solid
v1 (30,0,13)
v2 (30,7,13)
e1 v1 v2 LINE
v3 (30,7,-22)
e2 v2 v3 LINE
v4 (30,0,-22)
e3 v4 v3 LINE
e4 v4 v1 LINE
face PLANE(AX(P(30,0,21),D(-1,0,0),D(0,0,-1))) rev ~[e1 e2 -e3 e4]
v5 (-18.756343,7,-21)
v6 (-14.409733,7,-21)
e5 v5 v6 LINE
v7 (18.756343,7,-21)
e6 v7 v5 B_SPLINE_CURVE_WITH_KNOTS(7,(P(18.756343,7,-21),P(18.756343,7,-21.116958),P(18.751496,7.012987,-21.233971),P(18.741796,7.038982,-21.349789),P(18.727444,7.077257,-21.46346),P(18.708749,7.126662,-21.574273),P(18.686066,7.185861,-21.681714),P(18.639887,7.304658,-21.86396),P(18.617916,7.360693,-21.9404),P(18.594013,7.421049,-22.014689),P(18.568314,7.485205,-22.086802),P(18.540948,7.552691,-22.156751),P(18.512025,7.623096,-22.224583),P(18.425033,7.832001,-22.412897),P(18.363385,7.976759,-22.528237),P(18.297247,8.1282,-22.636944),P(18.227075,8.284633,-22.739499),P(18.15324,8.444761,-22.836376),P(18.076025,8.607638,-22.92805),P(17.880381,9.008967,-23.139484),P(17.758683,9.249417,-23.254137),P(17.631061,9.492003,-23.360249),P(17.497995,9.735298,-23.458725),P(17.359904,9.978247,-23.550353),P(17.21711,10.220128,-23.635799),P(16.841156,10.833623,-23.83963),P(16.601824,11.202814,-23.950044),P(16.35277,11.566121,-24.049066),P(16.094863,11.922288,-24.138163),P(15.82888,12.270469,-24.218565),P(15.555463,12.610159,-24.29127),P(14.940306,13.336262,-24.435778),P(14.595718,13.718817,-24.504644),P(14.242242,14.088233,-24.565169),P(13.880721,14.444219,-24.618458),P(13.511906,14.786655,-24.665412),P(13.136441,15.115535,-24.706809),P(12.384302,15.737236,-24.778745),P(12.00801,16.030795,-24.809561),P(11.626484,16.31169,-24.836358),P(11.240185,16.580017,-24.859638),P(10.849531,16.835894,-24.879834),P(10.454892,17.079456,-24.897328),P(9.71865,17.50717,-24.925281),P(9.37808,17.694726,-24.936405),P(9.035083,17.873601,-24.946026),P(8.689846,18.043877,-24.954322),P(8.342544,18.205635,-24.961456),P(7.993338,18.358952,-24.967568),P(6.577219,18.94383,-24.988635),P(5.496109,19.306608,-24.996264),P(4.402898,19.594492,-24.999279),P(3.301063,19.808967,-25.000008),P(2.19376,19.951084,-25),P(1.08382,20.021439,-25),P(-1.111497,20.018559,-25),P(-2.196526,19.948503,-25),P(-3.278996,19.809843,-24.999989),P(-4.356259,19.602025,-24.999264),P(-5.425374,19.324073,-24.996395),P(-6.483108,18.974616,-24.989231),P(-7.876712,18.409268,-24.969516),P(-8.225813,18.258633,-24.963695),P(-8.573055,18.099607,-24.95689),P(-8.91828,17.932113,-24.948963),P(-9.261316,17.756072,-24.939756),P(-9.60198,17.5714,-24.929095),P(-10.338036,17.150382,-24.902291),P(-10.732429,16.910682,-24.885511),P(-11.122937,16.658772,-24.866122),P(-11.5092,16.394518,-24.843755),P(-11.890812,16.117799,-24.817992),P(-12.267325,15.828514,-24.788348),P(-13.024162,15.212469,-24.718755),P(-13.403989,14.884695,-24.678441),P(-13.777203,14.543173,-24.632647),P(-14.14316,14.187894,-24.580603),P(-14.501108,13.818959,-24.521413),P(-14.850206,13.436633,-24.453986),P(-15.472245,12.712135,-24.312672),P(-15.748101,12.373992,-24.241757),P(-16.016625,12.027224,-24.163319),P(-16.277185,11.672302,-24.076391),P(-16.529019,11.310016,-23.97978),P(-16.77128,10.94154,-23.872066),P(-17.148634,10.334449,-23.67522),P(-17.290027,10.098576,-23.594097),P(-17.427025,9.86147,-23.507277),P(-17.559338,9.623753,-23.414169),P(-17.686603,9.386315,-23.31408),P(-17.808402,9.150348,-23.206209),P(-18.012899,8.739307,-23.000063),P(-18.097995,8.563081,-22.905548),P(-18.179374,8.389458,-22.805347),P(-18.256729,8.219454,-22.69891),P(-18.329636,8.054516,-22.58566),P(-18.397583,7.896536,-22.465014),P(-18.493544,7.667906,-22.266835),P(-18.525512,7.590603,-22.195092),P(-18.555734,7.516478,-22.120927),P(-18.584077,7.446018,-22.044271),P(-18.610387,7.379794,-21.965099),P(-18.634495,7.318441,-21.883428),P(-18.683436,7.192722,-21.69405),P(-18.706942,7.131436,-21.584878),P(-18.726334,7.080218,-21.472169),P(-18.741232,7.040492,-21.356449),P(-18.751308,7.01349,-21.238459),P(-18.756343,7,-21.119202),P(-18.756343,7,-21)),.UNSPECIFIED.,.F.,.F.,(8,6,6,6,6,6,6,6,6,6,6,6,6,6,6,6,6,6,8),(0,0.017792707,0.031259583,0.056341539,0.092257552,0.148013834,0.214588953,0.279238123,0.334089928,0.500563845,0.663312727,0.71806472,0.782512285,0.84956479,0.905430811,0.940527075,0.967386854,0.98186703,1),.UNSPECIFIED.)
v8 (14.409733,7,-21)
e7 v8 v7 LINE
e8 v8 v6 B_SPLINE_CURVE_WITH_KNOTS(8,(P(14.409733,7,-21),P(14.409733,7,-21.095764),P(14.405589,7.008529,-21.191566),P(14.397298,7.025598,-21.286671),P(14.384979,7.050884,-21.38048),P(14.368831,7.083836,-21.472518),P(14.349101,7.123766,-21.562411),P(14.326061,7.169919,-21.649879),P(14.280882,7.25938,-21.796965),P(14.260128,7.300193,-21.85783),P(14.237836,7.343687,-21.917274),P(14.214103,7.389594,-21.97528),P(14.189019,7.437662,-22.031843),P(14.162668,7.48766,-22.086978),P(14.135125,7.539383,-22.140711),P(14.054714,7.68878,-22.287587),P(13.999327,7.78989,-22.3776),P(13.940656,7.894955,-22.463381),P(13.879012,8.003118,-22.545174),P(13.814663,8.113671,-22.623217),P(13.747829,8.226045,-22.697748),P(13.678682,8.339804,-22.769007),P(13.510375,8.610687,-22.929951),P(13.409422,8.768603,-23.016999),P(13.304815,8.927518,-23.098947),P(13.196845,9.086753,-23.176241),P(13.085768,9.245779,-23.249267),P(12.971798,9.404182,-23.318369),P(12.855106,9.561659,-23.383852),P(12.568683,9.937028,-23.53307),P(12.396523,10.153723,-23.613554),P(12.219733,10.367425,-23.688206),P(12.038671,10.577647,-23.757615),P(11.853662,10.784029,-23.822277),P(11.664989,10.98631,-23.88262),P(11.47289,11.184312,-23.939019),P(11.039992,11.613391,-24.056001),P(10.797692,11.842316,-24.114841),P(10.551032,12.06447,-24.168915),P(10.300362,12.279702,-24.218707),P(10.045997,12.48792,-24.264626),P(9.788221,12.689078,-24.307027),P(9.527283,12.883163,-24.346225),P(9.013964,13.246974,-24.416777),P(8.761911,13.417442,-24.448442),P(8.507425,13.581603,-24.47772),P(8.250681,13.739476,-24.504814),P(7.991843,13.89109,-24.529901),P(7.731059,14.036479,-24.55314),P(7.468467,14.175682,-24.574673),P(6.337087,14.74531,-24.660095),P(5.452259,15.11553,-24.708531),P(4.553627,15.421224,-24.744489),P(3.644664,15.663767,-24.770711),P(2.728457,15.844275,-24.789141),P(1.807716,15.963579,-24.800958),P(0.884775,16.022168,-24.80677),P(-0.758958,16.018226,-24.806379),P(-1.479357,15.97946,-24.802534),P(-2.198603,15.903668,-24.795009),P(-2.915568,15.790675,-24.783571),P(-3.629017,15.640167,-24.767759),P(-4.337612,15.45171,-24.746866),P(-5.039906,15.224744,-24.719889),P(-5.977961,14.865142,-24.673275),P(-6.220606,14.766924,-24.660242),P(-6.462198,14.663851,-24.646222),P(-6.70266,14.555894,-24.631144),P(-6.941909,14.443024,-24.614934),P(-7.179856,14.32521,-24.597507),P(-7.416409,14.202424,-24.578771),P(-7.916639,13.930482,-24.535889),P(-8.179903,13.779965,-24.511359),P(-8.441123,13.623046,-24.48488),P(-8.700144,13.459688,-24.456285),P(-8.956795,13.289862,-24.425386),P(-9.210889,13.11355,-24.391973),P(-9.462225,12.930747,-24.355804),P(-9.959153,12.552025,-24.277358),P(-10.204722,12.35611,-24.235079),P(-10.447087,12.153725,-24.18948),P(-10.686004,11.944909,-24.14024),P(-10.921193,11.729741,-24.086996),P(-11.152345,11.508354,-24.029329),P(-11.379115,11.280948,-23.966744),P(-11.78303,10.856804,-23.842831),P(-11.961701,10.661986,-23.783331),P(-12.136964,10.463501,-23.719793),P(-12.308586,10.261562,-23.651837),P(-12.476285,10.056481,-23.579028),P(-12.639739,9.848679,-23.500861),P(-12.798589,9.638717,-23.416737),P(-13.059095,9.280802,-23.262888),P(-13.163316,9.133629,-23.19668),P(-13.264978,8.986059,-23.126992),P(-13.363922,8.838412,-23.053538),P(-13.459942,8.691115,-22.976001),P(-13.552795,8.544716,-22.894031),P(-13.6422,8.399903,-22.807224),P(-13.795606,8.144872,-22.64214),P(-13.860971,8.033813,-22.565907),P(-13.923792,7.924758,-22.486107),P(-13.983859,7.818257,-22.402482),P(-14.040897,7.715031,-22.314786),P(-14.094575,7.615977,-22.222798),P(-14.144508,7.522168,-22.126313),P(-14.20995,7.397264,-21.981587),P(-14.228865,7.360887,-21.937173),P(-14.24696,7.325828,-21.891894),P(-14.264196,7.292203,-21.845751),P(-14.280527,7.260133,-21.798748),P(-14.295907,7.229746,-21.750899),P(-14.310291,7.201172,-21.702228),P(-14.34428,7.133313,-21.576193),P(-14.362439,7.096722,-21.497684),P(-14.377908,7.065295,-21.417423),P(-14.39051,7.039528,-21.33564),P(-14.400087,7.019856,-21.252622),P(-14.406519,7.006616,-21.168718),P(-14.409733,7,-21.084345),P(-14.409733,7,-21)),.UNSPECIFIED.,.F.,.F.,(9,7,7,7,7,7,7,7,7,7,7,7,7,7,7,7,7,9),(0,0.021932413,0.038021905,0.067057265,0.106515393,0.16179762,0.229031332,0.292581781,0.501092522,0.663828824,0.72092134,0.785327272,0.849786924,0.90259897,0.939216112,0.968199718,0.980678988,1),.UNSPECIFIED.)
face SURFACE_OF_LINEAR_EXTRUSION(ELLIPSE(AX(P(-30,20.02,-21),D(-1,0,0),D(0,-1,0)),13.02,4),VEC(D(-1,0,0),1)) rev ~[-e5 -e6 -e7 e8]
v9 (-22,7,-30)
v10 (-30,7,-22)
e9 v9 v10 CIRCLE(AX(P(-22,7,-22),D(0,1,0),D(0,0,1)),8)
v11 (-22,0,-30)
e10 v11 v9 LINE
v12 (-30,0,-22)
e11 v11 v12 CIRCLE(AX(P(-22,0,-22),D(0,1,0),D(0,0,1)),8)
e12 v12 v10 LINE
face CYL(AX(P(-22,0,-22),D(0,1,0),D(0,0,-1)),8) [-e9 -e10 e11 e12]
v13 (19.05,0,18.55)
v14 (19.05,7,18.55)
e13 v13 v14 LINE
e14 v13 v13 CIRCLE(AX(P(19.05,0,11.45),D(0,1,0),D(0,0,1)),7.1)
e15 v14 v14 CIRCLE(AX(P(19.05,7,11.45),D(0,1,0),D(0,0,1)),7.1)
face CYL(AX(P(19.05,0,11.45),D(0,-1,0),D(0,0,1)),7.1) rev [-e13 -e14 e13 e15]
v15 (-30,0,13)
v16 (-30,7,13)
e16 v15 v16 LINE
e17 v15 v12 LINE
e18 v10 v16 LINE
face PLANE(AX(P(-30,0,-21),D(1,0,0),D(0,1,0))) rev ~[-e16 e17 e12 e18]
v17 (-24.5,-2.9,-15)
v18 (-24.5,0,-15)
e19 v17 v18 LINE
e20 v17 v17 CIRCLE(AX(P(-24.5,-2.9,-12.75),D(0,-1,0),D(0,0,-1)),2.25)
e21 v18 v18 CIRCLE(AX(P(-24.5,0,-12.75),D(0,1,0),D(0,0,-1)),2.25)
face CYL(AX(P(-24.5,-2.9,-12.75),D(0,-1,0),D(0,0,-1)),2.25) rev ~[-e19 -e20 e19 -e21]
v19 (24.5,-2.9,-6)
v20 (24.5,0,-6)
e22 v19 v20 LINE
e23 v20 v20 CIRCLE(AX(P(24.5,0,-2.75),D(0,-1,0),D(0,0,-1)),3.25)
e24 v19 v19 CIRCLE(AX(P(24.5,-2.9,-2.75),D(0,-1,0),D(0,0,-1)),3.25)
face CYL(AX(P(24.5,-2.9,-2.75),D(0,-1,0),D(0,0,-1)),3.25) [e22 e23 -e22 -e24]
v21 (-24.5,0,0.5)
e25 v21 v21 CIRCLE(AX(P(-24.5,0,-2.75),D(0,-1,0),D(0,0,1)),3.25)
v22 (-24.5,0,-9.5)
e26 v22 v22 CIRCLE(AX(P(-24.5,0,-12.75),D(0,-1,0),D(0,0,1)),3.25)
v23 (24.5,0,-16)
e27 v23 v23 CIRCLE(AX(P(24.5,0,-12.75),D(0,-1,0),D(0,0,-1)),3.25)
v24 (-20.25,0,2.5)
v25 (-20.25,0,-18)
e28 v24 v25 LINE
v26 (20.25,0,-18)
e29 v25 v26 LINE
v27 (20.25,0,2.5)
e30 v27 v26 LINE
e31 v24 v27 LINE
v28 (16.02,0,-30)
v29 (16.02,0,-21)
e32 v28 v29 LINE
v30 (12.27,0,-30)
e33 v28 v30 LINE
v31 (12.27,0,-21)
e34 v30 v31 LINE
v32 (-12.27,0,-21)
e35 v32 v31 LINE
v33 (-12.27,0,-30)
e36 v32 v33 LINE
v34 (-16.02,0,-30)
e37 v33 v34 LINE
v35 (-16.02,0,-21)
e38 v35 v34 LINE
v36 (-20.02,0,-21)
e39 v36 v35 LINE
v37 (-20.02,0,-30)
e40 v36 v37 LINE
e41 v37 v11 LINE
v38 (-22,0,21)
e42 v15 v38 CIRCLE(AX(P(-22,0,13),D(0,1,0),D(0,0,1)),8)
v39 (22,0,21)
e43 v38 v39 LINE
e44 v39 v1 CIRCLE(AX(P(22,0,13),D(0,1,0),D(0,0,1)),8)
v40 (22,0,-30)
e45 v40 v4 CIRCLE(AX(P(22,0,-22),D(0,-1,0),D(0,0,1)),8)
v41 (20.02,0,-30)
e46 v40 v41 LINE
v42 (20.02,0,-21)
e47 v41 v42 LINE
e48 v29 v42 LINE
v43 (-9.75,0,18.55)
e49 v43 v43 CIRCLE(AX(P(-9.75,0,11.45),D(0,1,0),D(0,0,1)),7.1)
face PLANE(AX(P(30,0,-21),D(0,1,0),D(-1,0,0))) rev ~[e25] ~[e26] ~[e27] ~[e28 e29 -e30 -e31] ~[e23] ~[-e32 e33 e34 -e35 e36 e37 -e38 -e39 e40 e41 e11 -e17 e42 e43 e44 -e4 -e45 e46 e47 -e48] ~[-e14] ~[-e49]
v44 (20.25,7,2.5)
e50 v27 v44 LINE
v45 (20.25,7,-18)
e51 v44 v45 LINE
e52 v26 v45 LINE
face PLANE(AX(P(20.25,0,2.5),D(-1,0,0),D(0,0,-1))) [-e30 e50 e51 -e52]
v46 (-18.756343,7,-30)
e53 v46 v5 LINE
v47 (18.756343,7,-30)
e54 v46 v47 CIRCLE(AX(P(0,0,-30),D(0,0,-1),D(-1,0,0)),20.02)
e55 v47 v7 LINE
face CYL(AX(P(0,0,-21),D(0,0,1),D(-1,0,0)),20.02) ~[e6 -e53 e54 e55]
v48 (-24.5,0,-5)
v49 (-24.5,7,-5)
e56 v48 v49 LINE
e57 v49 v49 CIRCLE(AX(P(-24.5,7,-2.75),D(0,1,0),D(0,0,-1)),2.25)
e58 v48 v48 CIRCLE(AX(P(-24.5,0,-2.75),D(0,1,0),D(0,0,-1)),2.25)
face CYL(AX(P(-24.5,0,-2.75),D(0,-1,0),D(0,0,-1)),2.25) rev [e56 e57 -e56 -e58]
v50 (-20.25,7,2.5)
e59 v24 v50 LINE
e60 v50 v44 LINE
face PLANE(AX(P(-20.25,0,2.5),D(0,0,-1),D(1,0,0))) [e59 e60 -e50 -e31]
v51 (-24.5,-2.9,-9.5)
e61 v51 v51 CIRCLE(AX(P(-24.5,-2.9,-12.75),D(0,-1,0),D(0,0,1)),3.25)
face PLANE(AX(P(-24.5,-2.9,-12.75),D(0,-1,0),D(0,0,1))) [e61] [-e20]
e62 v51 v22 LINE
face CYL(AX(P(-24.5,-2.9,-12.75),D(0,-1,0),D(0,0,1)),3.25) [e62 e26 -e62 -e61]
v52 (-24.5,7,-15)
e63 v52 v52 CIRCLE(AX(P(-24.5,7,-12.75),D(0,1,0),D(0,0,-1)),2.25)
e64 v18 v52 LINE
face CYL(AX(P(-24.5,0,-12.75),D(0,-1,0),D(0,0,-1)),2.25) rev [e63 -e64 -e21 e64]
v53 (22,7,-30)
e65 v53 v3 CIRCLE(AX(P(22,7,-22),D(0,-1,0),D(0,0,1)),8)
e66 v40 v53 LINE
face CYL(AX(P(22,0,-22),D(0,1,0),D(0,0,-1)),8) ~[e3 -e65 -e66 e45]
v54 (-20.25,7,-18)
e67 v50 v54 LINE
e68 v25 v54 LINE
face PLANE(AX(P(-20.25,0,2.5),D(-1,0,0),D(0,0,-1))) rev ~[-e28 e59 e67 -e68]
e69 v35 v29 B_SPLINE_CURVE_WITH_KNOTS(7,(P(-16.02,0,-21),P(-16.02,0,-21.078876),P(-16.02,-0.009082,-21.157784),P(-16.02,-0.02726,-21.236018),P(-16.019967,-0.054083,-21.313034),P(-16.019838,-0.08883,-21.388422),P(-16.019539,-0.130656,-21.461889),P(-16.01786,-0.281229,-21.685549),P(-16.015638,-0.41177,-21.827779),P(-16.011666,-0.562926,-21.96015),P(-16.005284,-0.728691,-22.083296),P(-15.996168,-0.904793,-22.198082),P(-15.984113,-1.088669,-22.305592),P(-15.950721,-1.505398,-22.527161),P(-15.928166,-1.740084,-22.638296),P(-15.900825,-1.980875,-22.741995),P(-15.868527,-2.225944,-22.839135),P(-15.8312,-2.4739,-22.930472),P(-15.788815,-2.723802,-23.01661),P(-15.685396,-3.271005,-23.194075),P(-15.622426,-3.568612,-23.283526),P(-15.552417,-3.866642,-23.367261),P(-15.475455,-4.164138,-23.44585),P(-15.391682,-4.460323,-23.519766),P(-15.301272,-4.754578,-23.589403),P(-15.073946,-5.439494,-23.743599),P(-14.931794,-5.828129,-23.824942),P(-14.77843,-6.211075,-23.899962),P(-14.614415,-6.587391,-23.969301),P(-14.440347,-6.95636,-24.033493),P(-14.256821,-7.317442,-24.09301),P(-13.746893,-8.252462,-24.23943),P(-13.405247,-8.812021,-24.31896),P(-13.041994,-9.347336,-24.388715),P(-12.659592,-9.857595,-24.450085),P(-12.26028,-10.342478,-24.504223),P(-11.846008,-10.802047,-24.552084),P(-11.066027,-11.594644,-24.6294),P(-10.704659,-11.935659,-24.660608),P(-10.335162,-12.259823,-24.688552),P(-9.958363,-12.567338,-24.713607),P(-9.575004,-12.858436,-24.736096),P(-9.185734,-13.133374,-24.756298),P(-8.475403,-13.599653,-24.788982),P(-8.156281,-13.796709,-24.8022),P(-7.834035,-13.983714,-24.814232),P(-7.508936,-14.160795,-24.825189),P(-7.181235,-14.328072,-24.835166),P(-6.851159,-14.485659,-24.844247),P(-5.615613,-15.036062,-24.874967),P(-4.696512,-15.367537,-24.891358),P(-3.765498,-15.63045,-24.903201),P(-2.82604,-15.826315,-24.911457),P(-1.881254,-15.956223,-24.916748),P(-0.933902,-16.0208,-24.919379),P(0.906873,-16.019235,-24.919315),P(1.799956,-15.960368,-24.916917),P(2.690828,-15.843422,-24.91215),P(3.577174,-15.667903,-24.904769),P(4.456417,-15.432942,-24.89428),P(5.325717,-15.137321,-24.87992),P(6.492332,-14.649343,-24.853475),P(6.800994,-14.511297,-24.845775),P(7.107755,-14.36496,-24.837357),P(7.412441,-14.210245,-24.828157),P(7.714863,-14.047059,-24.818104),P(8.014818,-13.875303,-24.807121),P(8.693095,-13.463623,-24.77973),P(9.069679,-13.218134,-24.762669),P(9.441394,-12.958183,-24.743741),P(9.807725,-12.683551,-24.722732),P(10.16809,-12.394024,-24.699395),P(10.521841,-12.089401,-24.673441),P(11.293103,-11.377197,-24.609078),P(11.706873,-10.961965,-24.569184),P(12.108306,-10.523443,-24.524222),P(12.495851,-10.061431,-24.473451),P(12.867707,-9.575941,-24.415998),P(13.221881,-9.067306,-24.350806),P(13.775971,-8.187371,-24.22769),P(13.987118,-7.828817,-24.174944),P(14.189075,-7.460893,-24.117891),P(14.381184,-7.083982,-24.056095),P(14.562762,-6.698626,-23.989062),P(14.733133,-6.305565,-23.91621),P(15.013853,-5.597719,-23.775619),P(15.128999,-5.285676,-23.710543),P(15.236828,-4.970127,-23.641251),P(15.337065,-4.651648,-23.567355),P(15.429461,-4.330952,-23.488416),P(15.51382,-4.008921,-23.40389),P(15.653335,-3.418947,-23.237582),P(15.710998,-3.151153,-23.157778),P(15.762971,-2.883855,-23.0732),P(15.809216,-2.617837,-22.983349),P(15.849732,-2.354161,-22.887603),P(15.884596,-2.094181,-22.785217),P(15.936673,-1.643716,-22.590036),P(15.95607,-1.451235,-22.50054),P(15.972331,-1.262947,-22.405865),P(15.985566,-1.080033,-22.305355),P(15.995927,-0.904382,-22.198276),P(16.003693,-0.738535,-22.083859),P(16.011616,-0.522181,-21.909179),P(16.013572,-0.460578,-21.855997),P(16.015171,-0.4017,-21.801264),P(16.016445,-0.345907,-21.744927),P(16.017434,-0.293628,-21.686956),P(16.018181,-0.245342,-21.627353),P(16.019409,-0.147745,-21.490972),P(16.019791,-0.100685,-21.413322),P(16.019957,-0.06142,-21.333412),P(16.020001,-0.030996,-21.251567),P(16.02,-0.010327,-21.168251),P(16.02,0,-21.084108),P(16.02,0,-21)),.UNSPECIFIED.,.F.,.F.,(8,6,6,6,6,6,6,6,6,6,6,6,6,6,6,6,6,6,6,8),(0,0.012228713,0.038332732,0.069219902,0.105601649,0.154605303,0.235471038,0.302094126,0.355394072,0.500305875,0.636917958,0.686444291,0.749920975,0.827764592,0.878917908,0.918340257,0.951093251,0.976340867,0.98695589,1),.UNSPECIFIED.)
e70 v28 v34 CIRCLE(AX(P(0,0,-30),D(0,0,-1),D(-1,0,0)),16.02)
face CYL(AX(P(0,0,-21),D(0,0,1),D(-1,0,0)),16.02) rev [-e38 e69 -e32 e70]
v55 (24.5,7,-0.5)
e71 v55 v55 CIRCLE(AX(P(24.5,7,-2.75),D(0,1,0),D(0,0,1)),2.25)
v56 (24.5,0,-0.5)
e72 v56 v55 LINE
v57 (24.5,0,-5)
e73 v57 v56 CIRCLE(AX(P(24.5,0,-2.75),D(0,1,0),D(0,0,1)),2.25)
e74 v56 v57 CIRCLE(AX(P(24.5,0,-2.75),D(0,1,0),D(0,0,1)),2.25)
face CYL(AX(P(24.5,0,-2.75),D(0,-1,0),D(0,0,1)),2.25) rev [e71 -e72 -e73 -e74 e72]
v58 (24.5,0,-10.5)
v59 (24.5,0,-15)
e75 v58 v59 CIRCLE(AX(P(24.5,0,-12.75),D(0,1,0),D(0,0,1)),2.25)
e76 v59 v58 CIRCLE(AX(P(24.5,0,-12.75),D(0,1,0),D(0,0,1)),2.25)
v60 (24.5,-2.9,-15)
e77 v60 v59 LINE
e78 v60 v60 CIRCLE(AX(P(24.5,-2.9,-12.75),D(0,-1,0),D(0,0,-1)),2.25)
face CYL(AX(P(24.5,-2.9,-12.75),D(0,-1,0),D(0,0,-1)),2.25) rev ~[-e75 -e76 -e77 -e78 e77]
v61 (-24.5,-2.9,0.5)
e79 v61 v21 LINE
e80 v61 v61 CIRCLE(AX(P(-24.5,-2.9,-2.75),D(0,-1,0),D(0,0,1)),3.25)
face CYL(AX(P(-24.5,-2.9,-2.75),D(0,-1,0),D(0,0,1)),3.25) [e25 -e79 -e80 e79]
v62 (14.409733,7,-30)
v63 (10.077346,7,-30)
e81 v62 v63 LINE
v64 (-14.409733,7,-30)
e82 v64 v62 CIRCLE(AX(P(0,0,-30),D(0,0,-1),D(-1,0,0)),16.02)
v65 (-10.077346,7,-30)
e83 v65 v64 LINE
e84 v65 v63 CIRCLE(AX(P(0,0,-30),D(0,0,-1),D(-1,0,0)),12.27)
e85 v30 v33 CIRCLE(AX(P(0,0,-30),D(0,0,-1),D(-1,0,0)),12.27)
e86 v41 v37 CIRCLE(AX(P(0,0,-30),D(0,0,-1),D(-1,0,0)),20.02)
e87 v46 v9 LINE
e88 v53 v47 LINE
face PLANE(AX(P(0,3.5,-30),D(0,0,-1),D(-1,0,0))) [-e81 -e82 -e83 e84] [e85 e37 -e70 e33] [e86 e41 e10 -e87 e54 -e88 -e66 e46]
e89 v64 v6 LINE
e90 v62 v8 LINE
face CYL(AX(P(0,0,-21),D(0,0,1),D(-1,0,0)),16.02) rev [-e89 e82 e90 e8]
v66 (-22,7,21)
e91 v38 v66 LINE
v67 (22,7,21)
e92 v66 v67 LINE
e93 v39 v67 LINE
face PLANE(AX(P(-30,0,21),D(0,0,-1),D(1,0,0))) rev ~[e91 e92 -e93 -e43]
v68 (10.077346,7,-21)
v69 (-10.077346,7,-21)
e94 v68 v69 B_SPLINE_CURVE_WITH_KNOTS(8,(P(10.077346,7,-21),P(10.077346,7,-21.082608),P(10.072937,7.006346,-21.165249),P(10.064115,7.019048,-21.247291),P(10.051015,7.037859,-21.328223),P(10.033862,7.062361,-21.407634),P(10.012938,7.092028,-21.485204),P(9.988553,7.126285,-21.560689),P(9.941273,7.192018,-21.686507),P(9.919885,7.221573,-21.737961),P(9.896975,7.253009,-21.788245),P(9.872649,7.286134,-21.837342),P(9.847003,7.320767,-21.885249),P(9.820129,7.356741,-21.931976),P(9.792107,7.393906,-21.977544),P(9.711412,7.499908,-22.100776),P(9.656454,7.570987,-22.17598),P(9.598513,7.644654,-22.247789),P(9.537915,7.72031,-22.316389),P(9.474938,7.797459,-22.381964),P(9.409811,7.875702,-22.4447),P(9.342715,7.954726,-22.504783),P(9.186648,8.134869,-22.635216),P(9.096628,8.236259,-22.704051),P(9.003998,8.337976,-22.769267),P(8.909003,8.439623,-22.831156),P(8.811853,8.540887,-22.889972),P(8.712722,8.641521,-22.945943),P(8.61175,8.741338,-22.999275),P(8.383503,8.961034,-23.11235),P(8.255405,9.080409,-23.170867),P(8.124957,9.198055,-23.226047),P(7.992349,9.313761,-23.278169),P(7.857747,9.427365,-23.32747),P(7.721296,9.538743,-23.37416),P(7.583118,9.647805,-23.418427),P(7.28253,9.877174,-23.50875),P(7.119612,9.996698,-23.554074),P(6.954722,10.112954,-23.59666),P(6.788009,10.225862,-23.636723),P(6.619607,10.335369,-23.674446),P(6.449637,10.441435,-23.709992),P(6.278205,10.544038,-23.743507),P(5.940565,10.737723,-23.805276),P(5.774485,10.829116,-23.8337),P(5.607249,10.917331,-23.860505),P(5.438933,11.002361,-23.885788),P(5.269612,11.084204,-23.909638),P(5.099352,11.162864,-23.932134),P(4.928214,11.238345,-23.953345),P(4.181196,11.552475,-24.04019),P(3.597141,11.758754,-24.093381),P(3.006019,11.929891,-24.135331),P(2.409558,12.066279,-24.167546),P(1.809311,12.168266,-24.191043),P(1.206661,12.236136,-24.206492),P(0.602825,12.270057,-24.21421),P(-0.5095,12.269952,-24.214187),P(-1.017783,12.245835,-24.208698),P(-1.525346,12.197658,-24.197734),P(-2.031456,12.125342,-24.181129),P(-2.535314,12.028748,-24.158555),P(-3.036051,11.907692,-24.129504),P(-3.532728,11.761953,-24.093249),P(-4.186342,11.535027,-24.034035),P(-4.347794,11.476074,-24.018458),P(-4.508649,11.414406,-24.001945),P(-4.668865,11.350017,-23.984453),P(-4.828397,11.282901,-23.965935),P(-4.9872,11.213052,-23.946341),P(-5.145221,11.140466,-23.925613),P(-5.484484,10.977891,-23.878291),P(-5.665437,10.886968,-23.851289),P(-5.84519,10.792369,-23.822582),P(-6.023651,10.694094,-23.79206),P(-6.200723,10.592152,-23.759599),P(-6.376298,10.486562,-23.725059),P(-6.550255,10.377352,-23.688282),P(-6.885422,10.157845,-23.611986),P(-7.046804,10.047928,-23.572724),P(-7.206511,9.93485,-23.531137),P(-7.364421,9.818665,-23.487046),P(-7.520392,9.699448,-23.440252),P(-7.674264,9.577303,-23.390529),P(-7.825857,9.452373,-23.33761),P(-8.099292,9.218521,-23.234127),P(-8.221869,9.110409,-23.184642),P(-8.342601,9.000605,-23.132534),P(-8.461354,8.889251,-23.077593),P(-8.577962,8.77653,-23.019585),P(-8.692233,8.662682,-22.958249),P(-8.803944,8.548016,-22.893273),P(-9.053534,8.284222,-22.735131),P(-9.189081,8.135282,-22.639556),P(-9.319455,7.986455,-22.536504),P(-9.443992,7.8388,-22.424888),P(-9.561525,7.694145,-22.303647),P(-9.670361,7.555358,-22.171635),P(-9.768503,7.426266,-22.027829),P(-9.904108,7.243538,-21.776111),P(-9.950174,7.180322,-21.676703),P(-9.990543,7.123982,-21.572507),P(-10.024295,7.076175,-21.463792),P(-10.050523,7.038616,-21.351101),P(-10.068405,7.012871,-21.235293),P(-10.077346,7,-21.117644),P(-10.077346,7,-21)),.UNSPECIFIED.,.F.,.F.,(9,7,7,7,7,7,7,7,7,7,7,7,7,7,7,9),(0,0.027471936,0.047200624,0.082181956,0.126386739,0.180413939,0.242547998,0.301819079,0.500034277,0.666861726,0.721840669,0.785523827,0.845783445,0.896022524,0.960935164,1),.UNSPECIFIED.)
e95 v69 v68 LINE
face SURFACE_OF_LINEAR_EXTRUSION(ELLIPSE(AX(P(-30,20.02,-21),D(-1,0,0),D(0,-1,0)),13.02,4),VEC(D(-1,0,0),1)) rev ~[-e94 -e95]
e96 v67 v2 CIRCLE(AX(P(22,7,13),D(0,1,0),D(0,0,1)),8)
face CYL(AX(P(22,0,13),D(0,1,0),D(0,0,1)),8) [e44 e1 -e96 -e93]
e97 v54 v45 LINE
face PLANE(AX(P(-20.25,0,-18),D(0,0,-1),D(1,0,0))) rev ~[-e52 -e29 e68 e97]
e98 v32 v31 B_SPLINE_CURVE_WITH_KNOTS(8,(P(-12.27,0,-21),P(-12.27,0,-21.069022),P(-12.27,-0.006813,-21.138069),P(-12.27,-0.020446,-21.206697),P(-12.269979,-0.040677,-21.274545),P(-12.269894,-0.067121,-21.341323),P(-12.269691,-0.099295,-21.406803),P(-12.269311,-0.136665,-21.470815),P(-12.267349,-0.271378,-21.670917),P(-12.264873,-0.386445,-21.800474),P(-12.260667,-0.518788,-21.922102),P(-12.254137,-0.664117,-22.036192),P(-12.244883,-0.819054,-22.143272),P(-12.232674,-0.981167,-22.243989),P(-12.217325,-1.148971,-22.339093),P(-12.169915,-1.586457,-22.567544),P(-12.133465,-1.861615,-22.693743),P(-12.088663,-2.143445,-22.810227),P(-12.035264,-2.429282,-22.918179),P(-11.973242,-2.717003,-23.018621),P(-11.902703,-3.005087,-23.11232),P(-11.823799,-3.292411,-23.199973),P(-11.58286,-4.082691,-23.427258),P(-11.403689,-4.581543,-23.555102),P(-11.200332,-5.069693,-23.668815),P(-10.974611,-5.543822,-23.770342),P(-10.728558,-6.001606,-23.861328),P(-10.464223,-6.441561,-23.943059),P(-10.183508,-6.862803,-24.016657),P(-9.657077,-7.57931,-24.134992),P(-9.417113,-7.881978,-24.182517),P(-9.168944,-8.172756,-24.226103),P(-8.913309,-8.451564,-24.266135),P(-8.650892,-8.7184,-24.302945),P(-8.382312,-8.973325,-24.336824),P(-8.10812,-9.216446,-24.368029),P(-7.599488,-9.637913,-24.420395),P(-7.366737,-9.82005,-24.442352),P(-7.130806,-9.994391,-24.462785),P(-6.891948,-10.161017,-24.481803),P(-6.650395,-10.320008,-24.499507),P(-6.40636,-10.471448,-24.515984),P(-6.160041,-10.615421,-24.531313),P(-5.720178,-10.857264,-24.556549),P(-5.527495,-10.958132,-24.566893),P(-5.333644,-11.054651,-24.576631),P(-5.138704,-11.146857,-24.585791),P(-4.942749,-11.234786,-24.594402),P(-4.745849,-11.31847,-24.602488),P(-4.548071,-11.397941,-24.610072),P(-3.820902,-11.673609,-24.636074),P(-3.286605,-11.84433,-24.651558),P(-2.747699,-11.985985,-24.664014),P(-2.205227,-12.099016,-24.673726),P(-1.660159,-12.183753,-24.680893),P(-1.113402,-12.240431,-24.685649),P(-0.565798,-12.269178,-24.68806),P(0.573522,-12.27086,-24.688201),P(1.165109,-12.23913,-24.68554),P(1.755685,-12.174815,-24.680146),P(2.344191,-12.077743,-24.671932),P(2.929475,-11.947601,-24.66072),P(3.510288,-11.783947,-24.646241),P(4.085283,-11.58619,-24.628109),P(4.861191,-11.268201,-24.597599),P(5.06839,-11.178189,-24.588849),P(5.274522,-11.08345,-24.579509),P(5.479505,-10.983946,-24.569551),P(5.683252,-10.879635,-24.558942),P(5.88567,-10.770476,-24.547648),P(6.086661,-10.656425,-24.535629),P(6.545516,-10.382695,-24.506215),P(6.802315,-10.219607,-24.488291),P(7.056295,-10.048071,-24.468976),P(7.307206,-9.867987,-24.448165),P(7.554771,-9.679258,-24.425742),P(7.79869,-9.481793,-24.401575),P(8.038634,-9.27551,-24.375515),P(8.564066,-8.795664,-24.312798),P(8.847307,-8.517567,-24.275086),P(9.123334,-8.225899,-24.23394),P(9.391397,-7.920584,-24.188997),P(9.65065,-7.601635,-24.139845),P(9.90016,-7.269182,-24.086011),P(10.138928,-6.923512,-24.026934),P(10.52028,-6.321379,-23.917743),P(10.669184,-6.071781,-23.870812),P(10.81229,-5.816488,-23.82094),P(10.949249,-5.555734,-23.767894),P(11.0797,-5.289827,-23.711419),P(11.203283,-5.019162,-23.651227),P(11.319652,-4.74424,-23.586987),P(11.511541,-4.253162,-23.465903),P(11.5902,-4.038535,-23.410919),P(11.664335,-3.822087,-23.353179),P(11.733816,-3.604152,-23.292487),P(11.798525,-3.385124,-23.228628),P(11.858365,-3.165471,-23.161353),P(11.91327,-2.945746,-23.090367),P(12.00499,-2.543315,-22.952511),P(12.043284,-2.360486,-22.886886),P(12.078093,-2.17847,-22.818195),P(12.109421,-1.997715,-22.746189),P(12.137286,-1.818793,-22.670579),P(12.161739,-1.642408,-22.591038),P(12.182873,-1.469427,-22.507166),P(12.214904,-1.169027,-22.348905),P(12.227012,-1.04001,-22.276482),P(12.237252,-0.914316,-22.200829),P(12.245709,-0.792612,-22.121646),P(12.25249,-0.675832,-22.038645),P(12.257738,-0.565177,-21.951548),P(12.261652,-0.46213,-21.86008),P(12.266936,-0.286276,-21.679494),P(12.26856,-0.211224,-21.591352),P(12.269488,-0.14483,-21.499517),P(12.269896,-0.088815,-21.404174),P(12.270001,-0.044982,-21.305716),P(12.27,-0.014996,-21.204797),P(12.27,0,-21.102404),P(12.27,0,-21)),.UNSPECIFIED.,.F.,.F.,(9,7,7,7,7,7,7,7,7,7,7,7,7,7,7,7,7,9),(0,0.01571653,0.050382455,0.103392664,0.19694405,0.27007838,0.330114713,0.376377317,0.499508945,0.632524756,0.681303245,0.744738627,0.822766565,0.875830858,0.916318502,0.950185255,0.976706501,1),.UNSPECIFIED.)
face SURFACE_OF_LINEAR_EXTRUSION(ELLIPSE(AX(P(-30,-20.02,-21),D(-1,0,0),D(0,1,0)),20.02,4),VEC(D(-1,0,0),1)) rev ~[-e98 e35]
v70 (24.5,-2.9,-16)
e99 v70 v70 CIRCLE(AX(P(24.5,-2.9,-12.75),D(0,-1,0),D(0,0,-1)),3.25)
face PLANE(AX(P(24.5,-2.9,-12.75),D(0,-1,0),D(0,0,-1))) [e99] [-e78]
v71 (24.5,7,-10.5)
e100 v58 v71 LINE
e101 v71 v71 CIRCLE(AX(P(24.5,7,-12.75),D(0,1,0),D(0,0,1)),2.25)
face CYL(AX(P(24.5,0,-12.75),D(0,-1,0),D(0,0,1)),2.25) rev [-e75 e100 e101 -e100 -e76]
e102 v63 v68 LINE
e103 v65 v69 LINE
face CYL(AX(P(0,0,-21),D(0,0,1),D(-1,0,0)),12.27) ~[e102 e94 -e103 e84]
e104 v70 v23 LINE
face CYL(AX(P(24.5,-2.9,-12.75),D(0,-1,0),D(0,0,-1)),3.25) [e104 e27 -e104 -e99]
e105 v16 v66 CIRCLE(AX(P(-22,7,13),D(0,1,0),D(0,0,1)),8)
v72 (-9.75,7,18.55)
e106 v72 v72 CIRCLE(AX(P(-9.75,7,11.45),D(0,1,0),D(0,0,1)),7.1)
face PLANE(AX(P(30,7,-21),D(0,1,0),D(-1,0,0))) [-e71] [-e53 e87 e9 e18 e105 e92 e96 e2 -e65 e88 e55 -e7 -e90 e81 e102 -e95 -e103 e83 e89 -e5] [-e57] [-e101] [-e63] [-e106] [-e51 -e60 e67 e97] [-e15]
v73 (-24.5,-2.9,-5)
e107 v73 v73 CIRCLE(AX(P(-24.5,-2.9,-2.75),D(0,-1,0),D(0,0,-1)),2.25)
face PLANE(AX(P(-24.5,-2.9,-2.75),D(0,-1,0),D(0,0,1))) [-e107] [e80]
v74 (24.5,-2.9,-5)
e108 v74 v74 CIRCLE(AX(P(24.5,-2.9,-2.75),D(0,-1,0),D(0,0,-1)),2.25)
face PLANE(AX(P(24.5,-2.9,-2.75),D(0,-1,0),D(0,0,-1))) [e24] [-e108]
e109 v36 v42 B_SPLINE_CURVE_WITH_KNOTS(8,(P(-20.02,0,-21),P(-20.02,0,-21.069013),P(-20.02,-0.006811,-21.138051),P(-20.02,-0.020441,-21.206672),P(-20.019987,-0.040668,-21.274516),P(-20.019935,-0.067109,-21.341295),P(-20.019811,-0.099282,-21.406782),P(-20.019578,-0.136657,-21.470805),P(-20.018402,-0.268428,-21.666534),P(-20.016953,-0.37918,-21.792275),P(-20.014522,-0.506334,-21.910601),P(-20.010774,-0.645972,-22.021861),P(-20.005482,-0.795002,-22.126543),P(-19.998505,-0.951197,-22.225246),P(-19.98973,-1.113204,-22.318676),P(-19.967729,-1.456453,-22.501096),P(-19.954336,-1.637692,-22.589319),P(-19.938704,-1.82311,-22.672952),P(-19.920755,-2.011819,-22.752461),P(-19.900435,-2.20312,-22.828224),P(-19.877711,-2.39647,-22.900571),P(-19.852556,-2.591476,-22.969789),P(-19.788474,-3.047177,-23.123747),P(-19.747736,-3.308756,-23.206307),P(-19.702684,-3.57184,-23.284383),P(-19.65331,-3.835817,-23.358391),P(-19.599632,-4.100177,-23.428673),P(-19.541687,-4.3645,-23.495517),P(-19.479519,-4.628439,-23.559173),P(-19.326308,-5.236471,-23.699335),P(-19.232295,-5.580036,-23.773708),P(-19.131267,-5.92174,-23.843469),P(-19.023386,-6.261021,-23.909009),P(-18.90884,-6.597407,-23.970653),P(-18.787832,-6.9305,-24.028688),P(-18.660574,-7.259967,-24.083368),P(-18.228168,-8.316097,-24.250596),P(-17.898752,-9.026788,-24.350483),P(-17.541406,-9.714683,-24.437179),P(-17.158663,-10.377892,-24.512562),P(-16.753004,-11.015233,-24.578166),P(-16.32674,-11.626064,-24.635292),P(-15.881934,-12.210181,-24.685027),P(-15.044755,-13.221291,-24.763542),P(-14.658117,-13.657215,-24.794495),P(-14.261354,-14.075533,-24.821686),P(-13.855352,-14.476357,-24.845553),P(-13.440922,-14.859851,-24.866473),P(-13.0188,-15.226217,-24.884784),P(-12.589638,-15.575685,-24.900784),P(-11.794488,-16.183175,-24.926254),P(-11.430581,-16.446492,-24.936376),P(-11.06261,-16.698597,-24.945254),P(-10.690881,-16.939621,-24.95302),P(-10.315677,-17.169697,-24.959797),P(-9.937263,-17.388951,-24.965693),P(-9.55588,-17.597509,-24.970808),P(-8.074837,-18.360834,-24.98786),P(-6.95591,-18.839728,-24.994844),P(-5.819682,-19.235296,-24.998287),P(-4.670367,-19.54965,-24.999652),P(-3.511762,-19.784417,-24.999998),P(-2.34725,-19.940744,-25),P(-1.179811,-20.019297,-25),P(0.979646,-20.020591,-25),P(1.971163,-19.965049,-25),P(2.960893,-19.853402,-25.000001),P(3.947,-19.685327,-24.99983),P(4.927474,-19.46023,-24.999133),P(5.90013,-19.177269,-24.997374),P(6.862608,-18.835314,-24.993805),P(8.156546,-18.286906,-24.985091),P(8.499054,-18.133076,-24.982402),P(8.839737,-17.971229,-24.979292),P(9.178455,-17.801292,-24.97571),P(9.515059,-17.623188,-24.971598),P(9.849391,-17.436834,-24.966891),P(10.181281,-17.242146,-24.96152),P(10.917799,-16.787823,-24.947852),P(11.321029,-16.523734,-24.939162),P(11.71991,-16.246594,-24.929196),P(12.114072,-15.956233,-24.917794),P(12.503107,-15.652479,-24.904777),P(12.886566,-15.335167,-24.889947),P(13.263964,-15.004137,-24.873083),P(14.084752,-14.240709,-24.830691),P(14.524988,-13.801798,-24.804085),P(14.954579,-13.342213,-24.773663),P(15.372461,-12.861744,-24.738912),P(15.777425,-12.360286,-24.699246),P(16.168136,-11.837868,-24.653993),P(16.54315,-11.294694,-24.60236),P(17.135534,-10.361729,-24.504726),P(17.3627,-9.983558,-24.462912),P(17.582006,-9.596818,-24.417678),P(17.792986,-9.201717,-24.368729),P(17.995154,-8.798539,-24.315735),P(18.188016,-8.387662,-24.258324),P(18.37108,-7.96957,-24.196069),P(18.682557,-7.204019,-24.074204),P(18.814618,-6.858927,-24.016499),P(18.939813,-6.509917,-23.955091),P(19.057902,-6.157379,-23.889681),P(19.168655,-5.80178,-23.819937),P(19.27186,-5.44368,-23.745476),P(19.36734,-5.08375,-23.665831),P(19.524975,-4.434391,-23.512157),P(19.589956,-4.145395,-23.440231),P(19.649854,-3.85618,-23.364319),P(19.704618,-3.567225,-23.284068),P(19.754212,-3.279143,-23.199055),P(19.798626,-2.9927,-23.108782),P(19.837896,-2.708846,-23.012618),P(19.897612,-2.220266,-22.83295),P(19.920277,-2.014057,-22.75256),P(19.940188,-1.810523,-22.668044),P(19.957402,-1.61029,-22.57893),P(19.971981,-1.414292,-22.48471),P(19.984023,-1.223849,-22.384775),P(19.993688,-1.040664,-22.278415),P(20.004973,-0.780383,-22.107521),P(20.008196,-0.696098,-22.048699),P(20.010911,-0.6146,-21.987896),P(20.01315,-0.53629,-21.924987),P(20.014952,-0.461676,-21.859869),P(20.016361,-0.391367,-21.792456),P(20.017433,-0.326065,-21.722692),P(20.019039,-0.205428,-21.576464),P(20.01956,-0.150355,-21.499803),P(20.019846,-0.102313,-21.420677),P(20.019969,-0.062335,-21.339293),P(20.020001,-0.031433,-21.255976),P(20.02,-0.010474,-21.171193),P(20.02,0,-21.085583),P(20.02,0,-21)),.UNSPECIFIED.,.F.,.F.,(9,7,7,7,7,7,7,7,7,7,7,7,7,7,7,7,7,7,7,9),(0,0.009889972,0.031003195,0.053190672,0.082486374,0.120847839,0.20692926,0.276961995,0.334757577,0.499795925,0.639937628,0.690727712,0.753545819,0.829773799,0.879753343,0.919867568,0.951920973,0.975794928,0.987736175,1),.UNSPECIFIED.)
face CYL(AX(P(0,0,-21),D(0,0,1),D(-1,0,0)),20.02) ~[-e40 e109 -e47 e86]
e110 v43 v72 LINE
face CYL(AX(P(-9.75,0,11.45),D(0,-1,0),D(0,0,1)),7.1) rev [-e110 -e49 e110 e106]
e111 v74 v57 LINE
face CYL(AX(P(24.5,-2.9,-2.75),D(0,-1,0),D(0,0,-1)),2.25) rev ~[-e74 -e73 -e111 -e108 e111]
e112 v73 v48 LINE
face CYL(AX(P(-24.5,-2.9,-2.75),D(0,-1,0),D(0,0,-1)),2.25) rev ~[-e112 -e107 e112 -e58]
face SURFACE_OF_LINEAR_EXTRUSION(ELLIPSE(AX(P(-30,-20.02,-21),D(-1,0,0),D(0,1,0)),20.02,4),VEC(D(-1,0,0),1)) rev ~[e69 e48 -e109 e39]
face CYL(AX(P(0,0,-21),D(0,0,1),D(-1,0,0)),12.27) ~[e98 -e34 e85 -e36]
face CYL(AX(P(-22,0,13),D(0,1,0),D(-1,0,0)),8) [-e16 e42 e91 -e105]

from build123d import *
from build123d.topology import SkipClean

# Parameters (mm, degrees)
SKETCH1_W           = 60
SKETCH1_H           = 42
SKETCH1_R           = 7.1
SKETCH1_R_2         = 2.25
SKETCH1_W_2         = 40.5
SKETCH1_H_2         = 20.5
BOSS_EXTRUDE1_DEPTH = 7
BOSS_EXTRUDE2_START = 2.9
SKETCH2_R           = 3.25
SKETCH2_R_2         = 2.25
BOSS_EXTRUDE2_DEPTH = 2.9
SKETCH3_R           = 20.02
SKETCH3_R_2         = 16.02
SKETCH3_R_3         = 12.27
SKETCH3_W           = 60
SKETCH3_H           = 7
BOSS_EXTRUDE3_DEPTH = 9
SKETCH4_RX          = 13.02
SKETCH4_RY          = 4
SKETCH4_RX_2        = 20.02
CUT_EXTRUDE1_DEPTH  = 71.005716909
FILLET1_R           = 8


with BuildPart() as part:
    # Sketch1 → Boss-Extrude1 (new body)
    with BuildSketch(Plane(origin=(0, 0, 0), x_dir=(1, 0, 0), z_dir=(0, 1, 0))):
        Rectangle(SKETCH1_W, SKETCH1_H)
        with Locations(Location((-9.75, -11.45, 0), (0, 0, 270))):
            Circle(SKETCH1_R, mode=Mode.SUBTRACT)
        with Locations(Location((19.05, -11.45, 0), (0, 0, 270))):
            Circle(SKETCH1_R, mode=Mode.SUBTRACT)
        with Locations(Location((24.5, 12.75, 0), (0, 0, 270))):
            Circle(SKETCH1_R_2, mode=Mode.SUBTRACT)
        with Locations(Location((24.5, 2.75, 0), (0, 0, 270))):
            Circle(SKETCH1_R_2, mode=Mode.SUBTRACT)
        with Locations(Location((-24.5, 2.75, 0), (0, 0, 90))):
            Circle(SKETCH1_R_2, mode=Mode.SUBTRACT)
        with Locations(Location((-24.5, 12.75, 0), (0, 0, 90))):
            Circle(SKETCH1_R_2, mode=Mode.SUBTRACT)
        with Locations((0, 7.75)):
            Rectangle(SKETCH1_W_2, SKETCH1_H_2, mode=Mode.SUBTRACT)
    extrude(amount=BOSS_EXTRUDE1_DEPTH)

    # Sketch2 → Boss-Extrude2 (add)
    # profile 1 of 4: a face of its own
    with SkipClean():  # the faces are left unmerged after this step: merging them gives an invalid solid
        with BuildSketch(Plane.XZ.offset(BOSS_EXTRUDE2_START)):
            with Locations(Location((24.5, -2.75, 0), (0, 0, 270))):
                Circle(SKETCH2_R)
            with Locations(Location((24.5, -2.75, 0), (0, 0, 270))):
                Circle(SKETCH2_R_2, mode=Mode.SUBTRACT)
        # profile 2 of 4: a face of its own
        with BuildSketch(Plane.XZ.offset(BOSS_EXTRUDE2_START)):
            with Locations(Location((24.5, -12.75, 0), (0, 0, 270))):
                Circle(SKETCH2_R)
            with Locations(Location((24.5, -12.75, 0), (0, 0, 270))):
                Circle(SKETCH2_R_2, mode=Mode.SUBTRACT)
        # profile 3 of 4: a face of its own
        with BuildSketch(Plane.XZ.offset(BOSS_EXTRUDE2_START)):
            with Locations(Location((-24.5, -12.75, 0), (0, 0, 90))):
                Circle(SKETCH2_R)
            with Locations(Location((-24.5, -12.75, 0), (0, 0, 270))):
                Circle(SKETCH2_R_2, mode=Mode.SUBTRACT)
        # profile 4 of 4: a face of its own
        with BuildSketch(Plane.XZ.offset(BOSS_EXTRUDE2_START)):
            with Locations(Location((-24.5, -2.75, 0), (0, 0, 90))):
                Circle(SKETCH2_R)
            with Locations(Location((-24.5, -2.75, 0), (0, 0, 270))):
                Circle(SKETCH2_R_2, mode=Mode.SUBTRACT)
        extrude(amount=-BOSS_EXTRUDE2_DEPTH)

    # Sketch3 → Boss-Extrude3 (add)
    # profile 1 of 3: a face of its own
    with SkipClean():  # the faces are left unmerged after this step: merging them gives an invalid solid
        with BuildSketch(Plane(origin=(0, 0, -21), x_dir=(-1, 0, 0), z_dir=(0, 0, -1))):
            Circle(SKETCH3_R)
            Circle(SKETCH3_R_2, mode=Mode.SUBTRACT)
        # profile 2 of 3: a face of its own
        with BuildSketch(Plane(origin=(0, 0, -21), x_dir=(-1, 0, 0), z_dir=(0, 0, -1))):
            Circle(SKETCH3_R_3)
        # profile 3 of 3: a face of its own
        with BuildSketch(Plane(origin=(0, 0, -21), x_dir=(-1, 0, 0), z_dir=(0, 0, -1))):
            with Locations((0, 3.5)):
                Rectangle(SKETCH3_W, SKETCH3_H)
        extrude(amount=BOSS_EXTRUDE3_DEPTH)

    # Sketch4 → Cut-Extrude1 (cut, through all)
    with SkipClean():  # the faces are left unmerged after this step: merging them gives an invalid solid
        with BuildSketch(Plane.ZY.offset(30)):
            with Locations(Location((-21, 20.02), (0, 0, -90))):
                Ellipse(SKETCH4_RX, SKETCH4_RY)
            with Locations(Location((-21, -20.02), (0, 0, 90))):
                Ellipse(SKETCH4_RX_2, SKETCH4_RY)
        extrude(amount=-CUT_EXTRUDE1_DEPTH, mode=Mode.SUBTRACT)

    # Fillet1
    fillet1_edges = [part.edges().sort_by_distance(p)[0] for p in [
        (30, 3.5, 21),
        (-30, 3.5, 21),
        (-30, 3.5, -30),
        (30, 3.5, -30),
    ]]
    fillet(fillet1_edges, radius=FILLET1_R)


solid = part.part
